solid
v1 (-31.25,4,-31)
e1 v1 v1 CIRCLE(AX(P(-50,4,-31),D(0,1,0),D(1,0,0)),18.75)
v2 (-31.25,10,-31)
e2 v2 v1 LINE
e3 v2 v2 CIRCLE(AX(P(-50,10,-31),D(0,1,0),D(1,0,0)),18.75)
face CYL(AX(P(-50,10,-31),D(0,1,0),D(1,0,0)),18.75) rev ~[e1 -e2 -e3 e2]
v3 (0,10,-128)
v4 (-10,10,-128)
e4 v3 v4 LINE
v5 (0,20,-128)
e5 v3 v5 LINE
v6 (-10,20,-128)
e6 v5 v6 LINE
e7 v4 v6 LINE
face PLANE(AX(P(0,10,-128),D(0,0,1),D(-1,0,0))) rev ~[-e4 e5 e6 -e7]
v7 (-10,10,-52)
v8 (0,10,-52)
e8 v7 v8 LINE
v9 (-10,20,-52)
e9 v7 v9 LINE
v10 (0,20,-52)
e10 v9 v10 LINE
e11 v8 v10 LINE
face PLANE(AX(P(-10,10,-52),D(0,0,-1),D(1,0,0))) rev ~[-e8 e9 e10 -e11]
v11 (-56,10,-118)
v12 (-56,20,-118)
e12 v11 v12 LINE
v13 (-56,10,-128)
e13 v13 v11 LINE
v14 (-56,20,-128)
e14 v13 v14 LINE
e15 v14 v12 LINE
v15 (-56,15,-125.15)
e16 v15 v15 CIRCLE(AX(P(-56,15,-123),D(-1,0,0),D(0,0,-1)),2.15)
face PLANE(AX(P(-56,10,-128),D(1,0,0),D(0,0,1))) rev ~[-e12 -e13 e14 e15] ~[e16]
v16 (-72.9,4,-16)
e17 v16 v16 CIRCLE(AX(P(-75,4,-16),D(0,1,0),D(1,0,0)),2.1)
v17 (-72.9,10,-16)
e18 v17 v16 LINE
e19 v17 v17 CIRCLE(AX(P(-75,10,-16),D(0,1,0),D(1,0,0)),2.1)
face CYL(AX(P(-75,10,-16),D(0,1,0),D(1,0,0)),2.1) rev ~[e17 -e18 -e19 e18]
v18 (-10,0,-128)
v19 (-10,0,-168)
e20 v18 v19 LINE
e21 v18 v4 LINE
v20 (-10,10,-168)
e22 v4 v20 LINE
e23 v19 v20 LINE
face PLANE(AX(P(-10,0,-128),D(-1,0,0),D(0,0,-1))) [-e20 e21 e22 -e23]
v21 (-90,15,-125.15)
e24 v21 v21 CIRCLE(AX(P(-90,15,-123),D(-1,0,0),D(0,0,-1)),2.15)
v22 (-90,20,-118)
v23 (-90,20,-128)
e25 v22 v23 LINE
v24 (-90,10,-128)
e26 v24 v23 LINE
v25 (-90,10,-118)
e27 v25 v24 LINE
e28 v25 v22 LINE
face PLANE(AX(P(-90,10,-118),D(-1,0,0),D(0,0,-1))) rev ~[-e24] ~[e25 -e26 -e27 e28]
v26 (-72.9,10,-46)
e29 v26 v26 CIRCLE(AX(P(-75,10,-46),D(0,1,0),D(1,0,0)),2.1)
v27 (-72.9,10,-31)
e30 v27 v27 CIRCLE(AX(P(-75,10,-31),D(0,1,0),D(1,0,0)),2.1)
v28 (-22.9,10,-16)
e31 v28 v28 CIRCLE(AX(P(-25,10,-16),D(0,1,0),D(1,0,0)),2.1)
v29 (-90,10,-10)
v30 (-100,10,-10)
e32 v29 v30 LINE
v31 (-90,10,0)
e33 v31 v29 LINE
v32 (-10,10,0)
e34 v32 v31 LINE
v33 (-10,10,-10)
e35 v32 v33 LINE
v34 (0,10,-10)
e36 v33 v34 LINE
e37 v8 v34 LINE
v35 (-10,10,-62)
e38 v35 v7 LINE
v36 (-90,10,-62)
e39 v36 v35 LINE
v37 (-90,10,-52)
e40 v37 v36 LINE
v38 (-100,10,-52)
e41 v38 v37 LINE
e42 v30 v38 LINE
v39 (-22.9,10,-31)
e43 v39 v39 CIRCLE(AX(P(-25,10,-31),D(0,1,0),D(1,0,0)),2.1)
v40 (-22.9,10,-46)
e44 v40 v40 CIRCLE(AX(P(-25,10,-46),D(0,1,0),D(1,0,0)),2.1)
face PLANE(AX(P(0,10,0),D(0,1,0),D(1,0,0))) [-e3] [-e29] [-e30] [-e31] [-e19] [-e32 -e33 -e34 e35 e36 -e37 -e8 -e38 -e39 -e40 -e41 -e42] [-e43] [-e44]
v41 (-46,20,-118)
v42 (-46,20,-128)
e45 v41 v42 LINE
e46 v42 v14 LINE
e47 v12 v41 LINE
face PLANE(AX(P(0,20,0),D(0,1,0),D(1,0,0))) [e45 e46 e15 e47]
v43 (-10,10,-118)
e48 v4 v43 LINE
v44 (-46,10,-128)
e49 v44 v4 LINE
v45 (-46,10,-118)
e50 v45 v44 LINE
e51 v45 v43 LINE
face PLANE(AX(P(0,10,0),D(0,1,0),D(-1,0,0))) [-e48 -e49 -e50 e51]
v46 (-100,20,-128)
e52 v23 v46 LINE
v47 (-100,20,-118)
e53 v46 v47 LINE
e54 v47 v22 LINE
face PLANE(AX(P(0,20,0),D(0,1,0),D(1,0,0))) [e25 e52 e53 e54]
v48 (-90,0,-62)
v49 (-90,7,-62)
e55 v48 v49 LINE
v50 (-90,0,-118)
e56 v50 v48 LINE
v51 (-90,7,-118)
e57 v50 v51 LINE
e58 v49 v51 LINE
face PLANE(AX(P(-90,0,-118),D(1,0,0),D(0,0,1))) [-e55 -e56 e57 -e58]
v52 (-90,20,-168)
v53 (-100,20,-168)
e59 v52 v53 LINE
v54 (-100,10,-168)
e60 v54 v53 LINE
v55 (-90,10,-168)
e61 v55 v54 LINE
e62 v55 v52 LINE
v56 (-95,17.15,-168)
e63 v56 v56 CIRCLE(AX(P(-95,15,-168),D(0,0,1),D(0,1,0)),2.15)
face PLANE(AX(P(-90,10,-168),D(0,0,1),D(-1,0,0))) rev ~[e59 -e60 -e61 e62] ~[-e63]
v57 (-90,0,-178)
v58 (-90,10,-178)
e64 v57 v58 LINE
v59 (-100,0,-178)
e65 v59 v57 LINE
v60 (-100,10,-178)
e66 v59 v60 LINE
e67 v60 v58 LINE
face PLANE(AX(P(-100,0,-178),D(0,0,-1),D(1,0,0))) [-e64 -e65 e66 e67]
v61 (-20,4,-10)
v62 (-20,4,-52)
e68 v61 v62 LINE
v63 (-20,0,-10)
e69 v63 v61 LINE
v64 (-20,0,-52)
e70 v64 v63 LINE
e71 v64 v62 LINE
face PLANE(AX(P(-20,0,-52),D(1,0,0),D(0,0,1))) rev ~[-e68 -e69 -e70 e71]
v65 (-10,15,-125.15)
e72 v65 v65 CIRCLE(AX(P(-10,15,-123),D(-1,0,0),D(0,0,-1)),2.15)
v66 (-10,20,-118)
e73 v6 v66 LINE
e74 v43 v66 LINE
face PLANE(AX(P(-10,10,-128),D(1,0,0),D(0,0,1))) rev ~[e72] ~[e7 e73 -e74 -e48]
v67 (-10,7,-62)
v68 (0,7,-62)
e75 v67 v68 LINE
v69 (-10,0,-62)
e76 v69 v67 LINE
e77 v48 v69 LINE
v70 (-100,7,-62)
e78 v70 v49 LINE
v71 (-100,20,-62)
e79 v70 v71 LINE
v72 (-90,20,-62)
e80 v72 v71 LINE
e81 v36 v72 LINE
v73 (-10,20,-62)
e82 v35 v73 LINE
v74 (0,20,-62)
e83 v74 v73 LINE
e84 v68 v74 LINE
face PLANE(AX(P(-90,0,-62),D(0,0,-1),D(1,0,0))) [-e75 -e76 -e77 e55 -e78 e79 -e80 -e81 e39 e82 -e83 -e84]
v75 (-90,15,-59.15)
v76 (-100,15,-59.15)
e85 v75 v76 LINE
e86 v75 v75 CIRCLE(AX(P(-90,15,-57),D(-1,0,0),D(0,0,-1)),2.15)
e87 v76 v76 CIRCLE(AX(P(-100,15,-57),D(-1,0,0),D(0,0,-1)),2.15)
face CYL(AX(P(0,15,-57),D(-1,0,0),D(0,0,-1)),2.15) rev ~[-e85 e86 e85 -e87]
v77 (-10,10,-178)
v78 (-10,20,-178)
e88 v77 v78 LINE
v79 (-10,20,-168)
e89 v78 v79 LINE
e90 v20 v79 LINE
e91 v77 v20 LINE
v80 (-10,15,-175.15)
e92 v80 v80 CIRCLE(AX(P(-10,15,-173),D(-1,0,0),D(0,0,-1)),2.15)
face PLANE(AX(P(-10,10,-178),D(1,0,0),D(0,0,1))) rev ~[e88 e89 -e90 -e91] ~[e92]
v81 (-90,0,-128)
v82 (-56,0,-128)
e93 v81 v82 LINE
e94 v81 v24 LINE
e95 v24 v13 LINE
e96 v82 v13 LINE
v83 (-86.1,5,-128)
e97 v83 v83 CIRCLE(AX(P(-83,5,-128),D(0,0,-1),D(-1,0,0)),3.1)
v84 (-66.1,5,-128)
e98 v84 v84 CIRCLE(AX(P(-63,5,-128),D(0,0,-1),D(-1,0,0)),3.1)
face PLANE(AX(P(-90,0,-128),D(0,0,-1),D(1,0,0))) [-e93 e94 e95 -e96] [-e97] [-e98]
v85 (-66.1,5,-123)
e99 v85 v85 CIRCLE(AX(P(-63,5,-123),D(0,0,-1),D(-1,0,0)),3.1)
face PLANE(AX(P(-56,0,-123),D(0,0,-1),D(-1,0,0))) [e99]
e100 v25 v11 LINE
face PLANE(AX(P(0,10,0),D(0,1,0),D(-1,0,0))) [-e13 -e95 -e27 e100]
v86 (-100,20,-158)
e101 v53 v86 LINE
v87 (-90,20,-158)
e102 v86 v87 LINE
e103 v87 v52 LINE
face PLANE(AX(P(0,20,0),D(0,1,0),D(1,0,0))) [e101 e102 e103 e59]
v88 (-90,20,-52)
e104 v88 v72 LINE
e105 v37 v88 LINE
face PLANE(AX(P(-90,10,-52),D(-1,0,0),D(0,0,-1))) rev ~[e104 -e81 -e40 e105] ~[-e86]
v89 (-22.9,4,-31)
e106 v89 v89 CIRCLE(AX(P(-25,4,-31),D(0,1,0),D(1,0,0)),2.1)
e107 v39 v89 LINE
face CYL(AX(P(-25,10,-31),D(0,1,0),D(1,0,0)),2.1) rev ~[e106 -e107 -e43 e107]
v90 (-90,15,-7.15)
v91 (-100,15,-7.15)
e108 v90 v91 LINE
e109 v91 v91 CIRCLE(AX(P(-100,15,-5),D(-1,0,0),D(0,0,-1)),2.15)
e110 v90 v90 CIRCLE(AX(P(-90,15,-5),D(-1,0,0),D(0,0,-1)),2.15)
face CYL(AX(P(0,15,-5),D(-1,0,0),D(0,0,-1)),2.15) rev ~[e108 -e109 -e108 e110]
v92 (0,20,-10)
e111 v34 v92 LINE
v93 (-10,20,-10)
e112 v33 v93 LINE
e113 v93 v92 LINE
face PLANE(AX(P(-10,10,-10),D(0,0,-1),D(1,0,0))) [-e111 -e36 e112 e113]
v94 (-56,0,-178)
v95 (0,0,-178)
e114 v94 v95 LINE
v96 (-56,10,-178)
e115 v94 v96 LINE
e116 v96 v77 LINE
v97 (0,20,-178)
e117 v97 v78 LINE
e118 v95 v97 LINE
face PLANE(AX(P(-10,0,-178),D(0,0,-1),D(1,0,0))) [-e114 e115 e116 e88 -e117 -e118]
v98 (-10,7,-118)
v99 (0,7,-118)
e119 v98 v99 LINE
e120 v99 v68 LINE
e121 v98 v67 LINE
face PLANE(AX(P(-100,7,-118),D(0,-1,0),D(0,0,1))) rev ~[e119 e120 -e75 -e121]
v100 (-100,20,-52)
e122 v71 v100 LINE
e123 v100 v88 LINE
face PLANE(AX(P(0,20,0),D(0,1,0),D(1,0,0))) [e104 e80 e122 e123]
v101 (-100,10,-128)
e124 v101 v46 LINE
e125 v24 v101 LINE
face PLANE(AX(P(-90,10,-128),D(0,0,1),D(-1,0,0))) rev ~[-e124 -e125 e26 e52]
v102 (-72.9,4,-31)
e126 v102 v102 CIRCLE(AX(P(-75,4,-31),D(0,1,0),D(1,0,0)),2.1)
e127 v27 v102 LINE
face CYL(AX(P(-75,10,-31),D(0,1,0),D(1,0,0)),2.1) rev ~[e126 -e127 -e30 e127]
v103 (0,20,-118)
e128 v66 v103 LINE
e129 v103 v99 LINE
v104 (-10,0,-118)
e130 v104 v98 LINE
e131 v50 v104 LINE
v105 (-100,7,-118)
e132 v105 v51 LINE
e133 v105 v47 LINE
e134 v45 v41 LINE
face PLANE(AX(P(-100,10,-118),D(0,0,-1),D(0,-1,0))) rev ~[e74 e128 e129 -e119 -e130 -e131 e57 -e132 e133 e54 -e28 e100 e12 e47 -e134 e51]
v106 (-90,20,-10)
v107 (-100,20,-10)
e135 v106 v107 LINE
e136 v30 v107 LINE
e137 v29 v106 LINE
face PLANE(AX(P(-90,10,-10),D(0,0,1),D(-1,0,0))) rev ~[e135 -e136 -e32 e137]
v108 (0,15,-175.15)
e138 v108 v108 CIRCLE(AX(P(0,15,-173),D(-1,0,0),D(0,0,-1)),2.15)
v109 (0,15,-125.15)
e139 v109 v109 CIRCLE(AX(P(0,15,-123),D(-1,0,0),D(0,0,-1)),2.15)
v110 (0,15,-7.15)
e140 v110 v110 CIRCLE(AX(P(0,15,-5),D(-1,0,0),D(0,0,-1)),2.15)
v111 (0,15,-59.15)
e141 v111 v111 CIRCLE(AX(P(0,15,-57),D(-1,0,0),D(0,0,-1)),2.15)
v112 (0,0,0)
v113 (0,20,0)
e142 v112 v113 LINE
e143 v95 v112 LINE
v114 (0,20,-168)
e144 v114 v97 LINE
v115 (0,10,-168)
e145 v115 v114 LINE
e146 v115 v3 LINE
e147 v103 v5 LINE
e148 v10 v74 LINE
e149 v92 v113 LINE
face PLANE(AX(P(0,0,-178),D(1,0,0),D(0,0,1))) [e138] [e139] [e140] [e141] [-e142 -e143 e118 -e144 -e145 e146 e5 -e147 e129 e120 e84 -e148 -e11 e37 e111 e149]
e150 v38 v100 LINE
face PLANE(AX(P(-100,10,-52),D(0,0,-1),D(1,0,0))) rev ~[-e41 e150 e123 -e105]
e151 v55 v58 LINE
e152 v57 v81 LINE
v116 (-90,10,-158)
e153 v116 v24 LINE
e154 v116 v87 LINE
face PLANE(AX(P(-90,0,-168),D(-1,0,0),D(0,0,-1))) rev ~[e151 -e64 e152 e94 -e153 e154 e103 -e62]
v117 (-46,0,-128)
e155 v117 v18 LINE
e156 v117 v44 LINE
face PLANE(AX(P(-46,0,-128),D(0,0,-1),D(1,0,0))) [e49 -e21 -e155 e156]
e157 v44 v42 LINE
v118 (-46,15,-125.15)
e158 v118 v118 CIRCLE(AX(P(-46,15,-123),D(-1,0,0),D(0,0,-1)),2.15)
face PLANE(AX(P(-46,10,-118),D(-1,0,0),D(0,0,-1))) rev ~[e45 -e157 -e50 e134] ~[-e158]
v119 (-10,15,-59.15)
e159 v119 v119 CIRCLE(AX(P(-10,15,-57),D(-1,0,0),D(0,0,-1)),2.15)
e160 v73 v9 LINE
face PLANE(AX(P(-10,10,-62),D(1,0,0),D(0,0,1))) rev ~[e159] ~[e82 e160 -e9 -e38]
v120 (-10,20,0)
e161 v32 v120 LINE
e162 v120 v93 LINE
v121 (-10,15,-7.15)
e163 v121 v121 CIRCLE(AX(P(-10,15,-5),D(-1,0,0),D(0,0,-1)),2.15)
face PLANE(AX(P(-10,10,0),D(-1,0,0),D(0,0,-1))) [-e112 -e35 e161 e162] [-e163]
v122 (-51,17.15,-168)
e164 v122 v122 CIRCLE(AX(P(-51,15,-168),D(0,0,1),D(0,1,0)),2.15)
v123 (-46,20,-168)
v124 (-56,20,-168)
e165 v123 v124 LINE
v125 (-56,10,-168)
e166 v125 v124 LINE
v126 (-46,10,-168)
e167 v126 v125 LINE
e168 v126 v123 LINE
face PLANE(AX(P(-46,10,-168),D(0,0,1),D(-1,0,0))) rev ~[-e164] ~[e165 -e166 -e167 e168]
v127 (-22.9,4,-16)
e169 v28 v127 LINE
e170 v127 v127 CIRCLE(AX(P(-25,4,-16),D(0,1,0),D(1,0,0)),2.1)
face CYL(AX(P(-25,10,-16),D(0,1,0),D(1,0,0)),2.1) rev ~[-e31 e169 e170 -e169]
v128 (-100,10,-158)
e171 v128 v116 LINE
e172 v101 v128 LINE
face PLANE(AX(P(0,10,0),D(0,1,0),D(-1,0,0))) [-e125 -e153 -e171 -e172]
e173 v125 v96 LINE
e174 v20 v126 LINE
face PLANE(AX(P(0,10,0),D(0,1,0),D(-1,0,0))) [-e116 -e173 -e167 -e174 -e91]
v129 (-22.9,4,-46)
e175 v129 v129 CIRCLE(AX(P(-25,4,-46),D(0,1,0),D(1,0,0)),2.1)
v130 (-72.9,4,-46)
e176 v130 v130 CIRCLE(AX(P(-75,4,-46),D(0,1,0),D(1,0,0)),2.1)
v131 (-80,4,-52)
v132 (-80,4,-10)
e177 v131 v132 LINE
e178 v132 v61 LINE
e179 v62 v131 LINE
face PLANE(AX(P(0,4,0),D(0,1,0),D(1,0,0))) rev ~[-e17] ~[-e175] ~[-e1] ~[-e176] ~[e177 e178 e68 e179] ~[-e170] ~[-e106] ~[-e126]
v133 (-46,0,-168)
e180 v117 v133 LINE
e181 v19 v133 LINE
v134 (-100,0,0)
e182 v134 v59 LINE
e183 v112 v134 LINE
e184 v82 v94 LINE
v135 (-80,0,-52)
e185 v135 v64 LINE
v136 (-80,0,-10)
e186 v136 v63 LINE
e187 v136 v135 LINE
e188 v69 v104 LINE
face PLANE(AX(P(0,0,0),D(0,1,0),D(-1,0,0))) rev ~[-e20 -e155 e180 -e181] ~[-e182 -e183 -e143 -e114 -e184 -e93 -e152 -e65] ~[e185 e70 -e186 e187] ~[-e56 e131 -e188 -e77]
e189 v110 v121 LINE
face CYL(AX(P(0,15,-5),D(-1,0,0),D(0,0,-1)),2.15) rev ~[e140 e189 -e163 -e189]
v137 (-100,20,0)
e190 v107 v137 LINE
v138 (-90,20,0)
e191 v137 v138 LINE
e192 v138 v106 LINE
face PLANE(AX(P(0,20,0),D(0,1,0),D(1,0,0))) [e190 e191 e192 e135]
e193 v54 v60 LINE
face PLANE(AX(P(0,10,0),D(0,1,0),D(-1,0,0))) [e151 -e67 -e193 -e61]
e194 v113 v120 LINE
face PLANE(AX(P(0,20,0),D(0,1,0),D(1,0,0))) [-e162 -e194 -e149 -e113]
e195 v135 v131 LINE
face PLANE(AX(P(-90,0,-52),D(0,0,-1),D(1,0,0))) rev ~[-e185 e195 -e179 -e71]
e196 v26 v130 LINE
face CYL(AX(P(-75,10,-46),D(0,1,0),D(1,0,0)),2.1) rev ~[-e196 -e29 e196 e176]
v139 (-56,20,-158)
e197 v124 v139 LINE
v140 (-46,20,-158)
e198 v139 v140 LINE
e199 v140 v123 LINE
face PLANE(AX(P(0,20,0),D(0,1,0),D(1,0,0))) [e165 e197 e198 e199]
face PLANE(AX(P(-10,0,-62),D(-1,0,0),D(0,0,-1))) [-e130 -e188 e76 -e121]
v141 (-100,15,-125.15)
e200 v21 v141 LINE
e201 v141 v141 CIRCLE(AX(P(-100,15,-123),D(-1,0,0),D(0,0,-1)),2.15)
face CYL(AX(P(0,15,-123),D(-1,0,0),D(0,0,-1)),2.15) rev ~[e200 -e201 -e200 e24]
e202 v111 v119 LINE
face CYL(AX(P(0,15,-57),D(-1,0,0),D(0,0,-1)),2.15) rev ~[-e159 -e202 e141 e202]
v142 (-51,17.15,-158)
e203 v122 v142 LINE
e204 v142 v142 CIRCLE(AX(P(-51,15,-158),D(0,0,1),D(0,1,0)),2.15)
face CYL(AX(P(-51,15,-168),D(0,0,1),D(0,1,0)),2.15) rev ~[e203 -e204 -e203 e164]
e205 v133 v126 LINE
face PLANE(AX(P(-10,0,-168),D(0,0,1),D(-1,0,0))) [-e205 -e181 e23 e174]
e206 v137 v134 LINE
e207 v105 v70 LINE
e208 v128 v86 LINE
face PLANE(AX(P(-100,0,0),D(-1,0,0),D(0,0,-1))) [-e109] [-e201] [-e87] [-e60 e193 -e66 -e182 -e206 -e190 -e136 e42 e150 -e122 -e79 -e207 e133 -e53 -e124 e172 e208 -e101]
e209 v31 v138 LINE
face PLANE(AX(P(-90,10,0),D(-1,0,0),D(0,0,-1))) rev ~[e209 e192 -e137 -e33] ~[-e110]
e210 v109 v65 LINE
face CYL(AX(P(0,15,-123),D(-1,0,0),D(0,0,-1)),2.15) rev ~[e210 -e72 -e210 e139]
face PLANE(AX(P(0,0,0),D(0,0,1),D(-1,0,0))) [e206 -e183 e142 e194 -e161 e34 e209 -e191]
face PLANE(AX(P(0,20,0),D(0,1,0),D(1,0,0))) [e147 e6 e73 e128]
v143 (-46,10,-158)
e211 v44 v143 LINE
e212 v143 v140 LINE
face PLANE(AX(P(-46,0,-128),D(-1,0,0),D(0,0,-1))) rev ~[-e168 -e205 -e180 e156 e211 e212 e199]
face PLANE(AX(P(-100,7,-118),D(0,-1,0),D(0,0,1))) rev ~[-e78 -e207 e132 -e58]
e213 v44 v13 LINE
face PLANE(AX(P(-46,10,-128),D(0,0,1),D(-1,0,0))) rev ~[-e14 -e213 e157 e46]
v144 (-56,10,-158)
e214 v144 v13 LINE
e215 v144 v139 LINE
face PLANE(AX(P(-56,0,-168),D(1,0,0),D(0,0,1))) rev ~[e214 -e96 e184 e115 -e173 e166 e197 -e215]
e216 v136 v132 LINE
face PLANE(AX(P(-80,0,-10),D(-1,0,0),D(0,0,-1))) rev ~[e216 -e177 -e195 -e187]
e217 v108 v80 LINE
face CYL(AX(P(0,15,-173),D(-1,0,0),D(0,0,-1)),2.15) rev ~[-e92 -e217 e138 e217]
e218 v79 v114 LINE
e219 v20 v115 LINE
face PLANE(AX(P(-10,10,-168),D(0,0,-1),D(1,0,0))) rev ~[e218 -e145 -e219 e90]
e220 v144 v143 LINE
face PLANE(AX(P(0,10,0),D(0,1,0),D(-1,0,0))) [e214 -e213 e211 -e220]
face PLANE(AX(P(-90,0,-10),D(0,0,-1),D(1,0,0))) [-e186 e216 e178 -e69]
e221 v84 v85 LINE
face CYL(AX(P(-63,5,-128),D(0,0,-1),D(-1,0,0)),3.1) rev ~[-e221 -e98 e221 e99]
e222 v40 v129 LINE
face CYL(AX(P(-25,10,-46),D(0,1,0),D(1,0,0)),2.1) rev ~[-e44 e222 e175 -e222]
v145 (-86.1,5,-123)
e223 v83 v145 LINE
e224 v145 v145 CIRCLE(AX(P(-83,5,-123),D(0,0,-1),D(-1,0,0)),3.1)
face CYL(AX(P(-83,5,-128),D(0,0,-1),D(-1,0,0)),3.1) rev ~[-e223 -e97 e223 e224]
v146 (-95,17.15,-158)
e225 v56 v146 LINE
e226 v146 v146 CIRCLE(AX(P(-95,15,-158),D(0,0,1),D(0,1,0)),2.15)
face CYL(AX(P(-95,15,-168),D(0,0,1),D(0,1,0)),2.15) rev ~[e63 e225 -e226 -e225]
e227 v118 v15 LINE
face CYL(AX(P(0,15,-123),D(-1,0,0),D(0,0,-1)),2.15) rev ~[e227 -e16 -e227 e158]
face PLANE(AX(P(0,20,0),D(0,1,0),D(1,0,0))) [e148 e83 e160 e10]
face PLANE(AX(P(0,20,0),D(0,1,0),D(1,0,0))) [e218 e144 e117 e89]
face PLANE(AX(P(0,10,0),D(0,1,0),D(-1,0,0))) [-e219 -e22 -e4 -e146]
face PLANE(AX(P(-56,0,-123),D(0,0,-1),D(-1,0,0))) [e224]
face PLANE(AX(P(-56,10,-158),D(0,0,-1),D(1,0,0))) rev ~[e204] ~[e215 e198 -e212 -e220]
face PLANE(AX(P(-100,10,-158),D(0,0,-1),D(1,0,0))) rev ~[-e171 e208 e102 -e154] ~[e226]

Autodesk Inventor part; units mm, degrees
ref_plane "YZ Plane" through (0, 0, 0) normal (1, 0, 0) x (0, 1, 0)
ref_plane "XZ Plane" through (0, 0, 0) normal (0, 1, 0) x (-1, 0, 0)
ref_plane "XY Plane" through (0, 0, 0) normal (0, 0, 1) x (1, 0, 0)
sketch "Sketch1" plane through (0, 0, 0) normal (0, 1, 0) x (-1, 0, 0)
  line L0 (0, 0) -> (100, 0)
  line L1 (100, 0) -> (100, -178)
  line L2 (0, -178) -> (0, 0)
  line L3 (90, -10) -> (10, -10)
  line L4 (90, -52) -> (10, -52)
  line L5 (90, -62) -> (10, -62)
  line L6 (90, -52) -> (90, -10)
  line L7 (10, -10) -> (10, -52)
  line L8 (90, -118) -> (10, -118)
  line L9 (90, -168) -> (90, -128)
  line L10 (90, -118) -> (90, -62)
  line L11 (10, -62) -> (10, -118)
  line L12 (10, -128) -> (10, -168)
  line L13 (100, -178) -> (90, -178)
  line L14 (10, -178) -> (0, -178)
  line L15 (90, -168) -> (90, -178)
  line L16 (10, -168) -> (46, -168)
  line L17 (56, -168) -> (56, -178)
  line L18 (56, -178) -> (10, -178)
  line L19 (56, -168) -> (56, -128)
  line L20 (46, -128) -> (46, -168)
  line L21 (90, -128) -> (56, -128)
  line L22 (46, -128) -> (10, -128)
  dimension "thickness" = 10
  dimension "d3" = 10
  dimension "d4" = 10
  dimension "d8" = 10
  dimension "motor" = 42
  dimension "d10" = 10
  dimension "d11" = 10
  dimension "d27" = 10
  dimension "batterywidth" = 56
  dimension "d31" = 80
  dimension "suspensionWidth" = 40
  dimension "d33" = 10
  dimension "d34" = 10
  dimension "suspensionHeight" = 34
  dimension "d36" = 10
  dimension "d38" = 10
  dimension "d39" = 40
  dimension "d40" = 40
  dimension "d41" = 36
extrude "Extrusion2" add sketch "Sketch1" along normal blind 10
sketch "Sketch2" plane through (0, 10, 0) normal (0, 1, 0) x (1, 0, 0)
  line L0 (-100, 0) -> (-90, 0)
  line L1 (-90, 0) -> (-90, 10)
  line L2 (-90, 10) -> (-100, 10)
  line L3 (-100, 10) -> (-100, 0)
  line L4 (-10, 52) -> (-10, 10) projected
  line L5 (0, 0) -> (-10, 0)
  line L6 (-10, 0) -> (-10, 10)
  line L7 (-10, 10) -> (0, 10)
  line L8 (0, 10) -> (0, 0)
  line L9 (-100, 178) -> (-100, 0) projected
  line L10 (-100, 0) -> (0, 0) projected
  line L11 (-100, 52) -> (-90, 52)
  line L12 (-90, 52) -> (-90, 62)
  line L13 (-90, 62) -> (-100, 62)
  line L14 (-100, 62) -> (-100, 52)
  line L15 (-90, 52) -> (-10, 52) projected
  line L16 (-10, 52) -> (0, 52)
  line L17 (0, 52) -> (0, 62)
  line L18 (0, 62) -> (-10, 62)
  line L19 (-10, 62) -> (-10, 52)
  line L20 (-90, 10) -> (-90, 52) projected
  line L21 (-100, 118) -> (-90, 118)
  line L22 (-90, 118) -> (-90, 128)
  line L23 (-90, 128) -> (-100, 128)
  line L24 (-100, 128) -> (-100, 118)
  line L25 (-56, 128) -> (-90, 128) projected
  line L26 (-56, 118) -> (-46, 118)
  line L27 (-46, 118) -> (-46, 128)
  line L28 (-46, 128) -> (-56, 128)
  line L29 (-56, 128) -> (-56, 118)
  line L30 (-90, 118) -> (-10, 118) projected
  line L31 (0, 178) -> (-56, 178) projected
  line L32 (-10, 168) -> (0, 168)
  line L33 (0, 168) -> (0, 178)
  line L34 (0, 178) -> (-10, 178)
  line L35 (-10, 178) -> (-10, 168)
  line L36 (0, 0) -> (0, 178) projected
  line L37 (-10, 118) -> (0, 118)
  line L38 (0, 118) -> (0, 128)
  line L39 (0, 128) -> (-10, 128)
  line L40 (-10, 128) -> (-10, 118)
  line L41 (-10, 128) -> (-46, 128) projected
  line L42 (-56, 158) -> (-46, 158)
  line L43 (-46, 158) -> (-46, 168)
  line L44 (-46, 168) -> (-56, 168)
  line L45 (-56, 168) -> (-56, 158)
  line L46 (-46, 168) -> (-10, 168) projected
  line L47 (-46, 128) -> (-46, 168) projected
  line L48 (-100, 158) -> (-90, 158)
  line L49 (-90, 158) -> (-90, 168)
  line L50 (-90, 168) -> (-100, 168)
  line L51 (-100, 168) -> (-100, 158)
  line L52 (-90, 128) -> (-90, 178) projected
  dimension "d36" = 10
  dimension "d44" = 10
  dimension "d45" = 10
  dimension "d47" = 10
  dimension "d50" = 10
  dimension "d51" = 10
  dimension "d52" = 10
  dimension "d53" = 10
  dimension "d58" = 10
  dimension "d64" = 10
  dimension "d65" = 10
  dimension "d148" = 10
  dimension "d149" = 10
  dimension "d150" = 10
  dimension "d151" = 10
extrude "Extrusion3" add sketch "Sketch2" along normal blind 10 contours L3 L2 L1 L0 | L6 L7 L8 L5 | L9 L13 L12 L11 | L19 L18 L17 L16 | L9 L23 L22 L21 | L9 L50 L49 L48 | L29 L28 L27 L26 | L37 L40 L39 L36 | L32 L35 L31 L33 | L42 L45 L44 L43
sketch "Sketch6" plane through (0, 0, 0) normal (0, -1, 0) x (1, 0, 0)
  line L0 (-90, -10) -> (-80, -10)
  line L1 (-80, -10) -> (-80, -52)
  line L2 (-80, -52) -> (-90, -52)
  line L3 (-90, -52) -> (-90, -10)
  line L4 (-90, -52) -> (-90, -10) projected
  line L5 (-90, -10) -> (-10, -10) projected
  line L6 (-10, -52) -> (-90, -52) projected
  line L7 (-20, -10) -> (-10, -10)
  line L8 (-10, -10) -> (-10, -52)
  line L9 (-10, -52) -> (-20, -52)
  line L10 (-20, -52) -> (-20, -10)
  line L11 (-10, -10) -> (-10, -52) projected
  point P0 (0, 0)
  dimension "motorFixtureHeight" = 60
  dimension "d72" = 10
extrude "Extrusion5" add sketch "Sketch6" against normal blind 10 contours L0 L1 L2 L3 | L5 L8 L6 L10
sketch "Sketch7" plane through (0, 10, 0) normal (0, 1, 0) x (1, 0, 0)
  line L0 (-80, 10) -> (-20, 10)
  line L1 (-20, 10) -> (-20, 52)
  line L2 (-20, 52) -> (-80, 52)
  line L3 (-80, 52) -> (-80, 10)
  line L4 (-80, 10) -> (-80, 52) projected
  line L5 (-80, 52) -> (-20, 52) projected
  line L6 (-20, 52) -> (-20, 10) projected
  line L7 (-20, 10) -> (-80, 10) projected
  circle A0 centre (-50, 31) radius 18.75
  circle A1 centre (-75, 16) radius 2.1
  circle A2 centre (-25, 31) radius 2.1
  circle A3 centre (-75, 46) radius 2.1
  circle A4 centre (-25, 16) radius 2.1
  circle A5 centre (-25, 46) radius 2.1
  circle A6 centre (-75, 31) radius 2.1
  point P0 (0, 0)
  dimension "d75" = 37.5
  dimension "d77" = 21
  dimension "d78" = 30
  dimension "d79" = 4.2
  dimension "d80" = 4.2
  dimension "d82" = 4.2
  dimension "d83" = 4.2
  dimension "d84" = 4.2
  dimension "d85" = 4.2
  dimension "d86" = 25
  dimension "d87" = 0
  dimension "d88" = 25
  dimension "d89" = 15
  dimension "d90" = 25
  dimension "d91" = 15
  dimension "d92" = 15
  dimension "d93" = 25
  dimension "d94" = 25
  dimension "d95" = 0
  dimension "d96" = 25
  dimension "d97" = 15
extrude "Extrusion6" add sketch "Sketch7" against normal blind 6
hole "Hole2" at (0, 15, -173) direction (-1, 0, 0) diameter 4.3 end through all
hole "Hole3" at (0, 15, -123) direction (-1, 0, 0) diameter 4.3 end through all
hole "Hole4" at (0, 15, -57) direction (-1, 0, 0) diameter 4.3 end through all
hole "Hole5" at (0, 15, -5) direction (-1, 0, 0) diameter 4.3 end through all
sketch "Sketch8" plane through (-100, 0, -178) normal (-1, 0, 0) x (0, 0, 1)
  line L0 (116, 10) -> (60, 10)
  line L1 (60, 10) -> (60, 7)
  line L2 (60, 7) -> (116, 7)
  line L3 (116, 7) -> (116, 10)
  line L4 (116, 10) -> (60, 7) construction
  line L5 (60, 10) -> (116, 7) construction
  line L6 (60, 10) -> (116, 10) projected
  line L7 (60, 10) -> (60, 20) projected
  line L8 (116, 10) -> (116, 20) projected
  point P0 (178, 0)
  point P1 (88, 8.5)
  dimension "d145" = 3
extrude "Extrusion7" cut sketch "Sketch8" against normal up to surface (100 mm away)
hole "Hole6" at (-95, 15, -168) direction (0, 0, 1) diameter 4.3 depth 10 tip angle 118
hole "Hole7" at (-51, 15, -168) direction (0, 0, 1) diameter 4.3 depth 10 tip angle 118
sketch "Sketch9" plane through (-56, 0, -128) normal (0, 0, -1) x (-1, 0, 0)
  circle A0 centre (27, 5) radius 3.1
  circle A1 centre (7, 5) radius 3.1
  line L0 (34, 0) -> (0, 0) projected
  line L1 (0, 0) -> (0, 10) projected
  line L2 (34, 0) -> (34, 10) projected
  point P0 (-56, 0)
  dimension "d170" = 6.2
  dimension "d171" = 6.2
  dimension "d172" = 5
  dimension "d173" = 5
  dimension "d174" = 7
  dimension "d175" = 7
extrude "Extrusion8" cut sketch "Sketch9" against normal blind 5
equation "\"d3\" = thickness"
equation "\"d4\" = thickness"
equation "\"d8\" = thickness"
equation "\"d10\" = thickness"
equation "\"d11\" = thickness"
equation "\"d27\" = thickness"
equation "\"d33\" = thickness"
equation "\"d34\" = thickness"
equation "\"d36\" = thickness"
equation "\"d38\" = thickness"
equation "\"d39\" = suspensionWidth"
equation "\"d40\" = suspensionWidth"
equation "\"d42\" = thickness"
equation "\"d44\" = thickness"
equation "\"d50\" = thickness"
equation "\"d51\" = thickness"
equation "\"d52\" = thickness"
equation "\"d53\" = thickness"
equation "\"d58\" = thickness"
equation "\"d64\" = thickness"
equation "\"d65\" = thickness"
equation "\"d148\" = thickness"
equation "\"d149\" = thickness"
equation "\"d150\" = thickness"
equation "\"d151\" = thickness"
equation "\"d66\" = thickness"
equation "\"d73\" = thickness"
equation "\"d77\" = 0.5 * motor"
equation "\"d159\" = thickness"
equation "\"d168\" = thickness"
properties part number "sideFrame" material "ABS Plastic"
